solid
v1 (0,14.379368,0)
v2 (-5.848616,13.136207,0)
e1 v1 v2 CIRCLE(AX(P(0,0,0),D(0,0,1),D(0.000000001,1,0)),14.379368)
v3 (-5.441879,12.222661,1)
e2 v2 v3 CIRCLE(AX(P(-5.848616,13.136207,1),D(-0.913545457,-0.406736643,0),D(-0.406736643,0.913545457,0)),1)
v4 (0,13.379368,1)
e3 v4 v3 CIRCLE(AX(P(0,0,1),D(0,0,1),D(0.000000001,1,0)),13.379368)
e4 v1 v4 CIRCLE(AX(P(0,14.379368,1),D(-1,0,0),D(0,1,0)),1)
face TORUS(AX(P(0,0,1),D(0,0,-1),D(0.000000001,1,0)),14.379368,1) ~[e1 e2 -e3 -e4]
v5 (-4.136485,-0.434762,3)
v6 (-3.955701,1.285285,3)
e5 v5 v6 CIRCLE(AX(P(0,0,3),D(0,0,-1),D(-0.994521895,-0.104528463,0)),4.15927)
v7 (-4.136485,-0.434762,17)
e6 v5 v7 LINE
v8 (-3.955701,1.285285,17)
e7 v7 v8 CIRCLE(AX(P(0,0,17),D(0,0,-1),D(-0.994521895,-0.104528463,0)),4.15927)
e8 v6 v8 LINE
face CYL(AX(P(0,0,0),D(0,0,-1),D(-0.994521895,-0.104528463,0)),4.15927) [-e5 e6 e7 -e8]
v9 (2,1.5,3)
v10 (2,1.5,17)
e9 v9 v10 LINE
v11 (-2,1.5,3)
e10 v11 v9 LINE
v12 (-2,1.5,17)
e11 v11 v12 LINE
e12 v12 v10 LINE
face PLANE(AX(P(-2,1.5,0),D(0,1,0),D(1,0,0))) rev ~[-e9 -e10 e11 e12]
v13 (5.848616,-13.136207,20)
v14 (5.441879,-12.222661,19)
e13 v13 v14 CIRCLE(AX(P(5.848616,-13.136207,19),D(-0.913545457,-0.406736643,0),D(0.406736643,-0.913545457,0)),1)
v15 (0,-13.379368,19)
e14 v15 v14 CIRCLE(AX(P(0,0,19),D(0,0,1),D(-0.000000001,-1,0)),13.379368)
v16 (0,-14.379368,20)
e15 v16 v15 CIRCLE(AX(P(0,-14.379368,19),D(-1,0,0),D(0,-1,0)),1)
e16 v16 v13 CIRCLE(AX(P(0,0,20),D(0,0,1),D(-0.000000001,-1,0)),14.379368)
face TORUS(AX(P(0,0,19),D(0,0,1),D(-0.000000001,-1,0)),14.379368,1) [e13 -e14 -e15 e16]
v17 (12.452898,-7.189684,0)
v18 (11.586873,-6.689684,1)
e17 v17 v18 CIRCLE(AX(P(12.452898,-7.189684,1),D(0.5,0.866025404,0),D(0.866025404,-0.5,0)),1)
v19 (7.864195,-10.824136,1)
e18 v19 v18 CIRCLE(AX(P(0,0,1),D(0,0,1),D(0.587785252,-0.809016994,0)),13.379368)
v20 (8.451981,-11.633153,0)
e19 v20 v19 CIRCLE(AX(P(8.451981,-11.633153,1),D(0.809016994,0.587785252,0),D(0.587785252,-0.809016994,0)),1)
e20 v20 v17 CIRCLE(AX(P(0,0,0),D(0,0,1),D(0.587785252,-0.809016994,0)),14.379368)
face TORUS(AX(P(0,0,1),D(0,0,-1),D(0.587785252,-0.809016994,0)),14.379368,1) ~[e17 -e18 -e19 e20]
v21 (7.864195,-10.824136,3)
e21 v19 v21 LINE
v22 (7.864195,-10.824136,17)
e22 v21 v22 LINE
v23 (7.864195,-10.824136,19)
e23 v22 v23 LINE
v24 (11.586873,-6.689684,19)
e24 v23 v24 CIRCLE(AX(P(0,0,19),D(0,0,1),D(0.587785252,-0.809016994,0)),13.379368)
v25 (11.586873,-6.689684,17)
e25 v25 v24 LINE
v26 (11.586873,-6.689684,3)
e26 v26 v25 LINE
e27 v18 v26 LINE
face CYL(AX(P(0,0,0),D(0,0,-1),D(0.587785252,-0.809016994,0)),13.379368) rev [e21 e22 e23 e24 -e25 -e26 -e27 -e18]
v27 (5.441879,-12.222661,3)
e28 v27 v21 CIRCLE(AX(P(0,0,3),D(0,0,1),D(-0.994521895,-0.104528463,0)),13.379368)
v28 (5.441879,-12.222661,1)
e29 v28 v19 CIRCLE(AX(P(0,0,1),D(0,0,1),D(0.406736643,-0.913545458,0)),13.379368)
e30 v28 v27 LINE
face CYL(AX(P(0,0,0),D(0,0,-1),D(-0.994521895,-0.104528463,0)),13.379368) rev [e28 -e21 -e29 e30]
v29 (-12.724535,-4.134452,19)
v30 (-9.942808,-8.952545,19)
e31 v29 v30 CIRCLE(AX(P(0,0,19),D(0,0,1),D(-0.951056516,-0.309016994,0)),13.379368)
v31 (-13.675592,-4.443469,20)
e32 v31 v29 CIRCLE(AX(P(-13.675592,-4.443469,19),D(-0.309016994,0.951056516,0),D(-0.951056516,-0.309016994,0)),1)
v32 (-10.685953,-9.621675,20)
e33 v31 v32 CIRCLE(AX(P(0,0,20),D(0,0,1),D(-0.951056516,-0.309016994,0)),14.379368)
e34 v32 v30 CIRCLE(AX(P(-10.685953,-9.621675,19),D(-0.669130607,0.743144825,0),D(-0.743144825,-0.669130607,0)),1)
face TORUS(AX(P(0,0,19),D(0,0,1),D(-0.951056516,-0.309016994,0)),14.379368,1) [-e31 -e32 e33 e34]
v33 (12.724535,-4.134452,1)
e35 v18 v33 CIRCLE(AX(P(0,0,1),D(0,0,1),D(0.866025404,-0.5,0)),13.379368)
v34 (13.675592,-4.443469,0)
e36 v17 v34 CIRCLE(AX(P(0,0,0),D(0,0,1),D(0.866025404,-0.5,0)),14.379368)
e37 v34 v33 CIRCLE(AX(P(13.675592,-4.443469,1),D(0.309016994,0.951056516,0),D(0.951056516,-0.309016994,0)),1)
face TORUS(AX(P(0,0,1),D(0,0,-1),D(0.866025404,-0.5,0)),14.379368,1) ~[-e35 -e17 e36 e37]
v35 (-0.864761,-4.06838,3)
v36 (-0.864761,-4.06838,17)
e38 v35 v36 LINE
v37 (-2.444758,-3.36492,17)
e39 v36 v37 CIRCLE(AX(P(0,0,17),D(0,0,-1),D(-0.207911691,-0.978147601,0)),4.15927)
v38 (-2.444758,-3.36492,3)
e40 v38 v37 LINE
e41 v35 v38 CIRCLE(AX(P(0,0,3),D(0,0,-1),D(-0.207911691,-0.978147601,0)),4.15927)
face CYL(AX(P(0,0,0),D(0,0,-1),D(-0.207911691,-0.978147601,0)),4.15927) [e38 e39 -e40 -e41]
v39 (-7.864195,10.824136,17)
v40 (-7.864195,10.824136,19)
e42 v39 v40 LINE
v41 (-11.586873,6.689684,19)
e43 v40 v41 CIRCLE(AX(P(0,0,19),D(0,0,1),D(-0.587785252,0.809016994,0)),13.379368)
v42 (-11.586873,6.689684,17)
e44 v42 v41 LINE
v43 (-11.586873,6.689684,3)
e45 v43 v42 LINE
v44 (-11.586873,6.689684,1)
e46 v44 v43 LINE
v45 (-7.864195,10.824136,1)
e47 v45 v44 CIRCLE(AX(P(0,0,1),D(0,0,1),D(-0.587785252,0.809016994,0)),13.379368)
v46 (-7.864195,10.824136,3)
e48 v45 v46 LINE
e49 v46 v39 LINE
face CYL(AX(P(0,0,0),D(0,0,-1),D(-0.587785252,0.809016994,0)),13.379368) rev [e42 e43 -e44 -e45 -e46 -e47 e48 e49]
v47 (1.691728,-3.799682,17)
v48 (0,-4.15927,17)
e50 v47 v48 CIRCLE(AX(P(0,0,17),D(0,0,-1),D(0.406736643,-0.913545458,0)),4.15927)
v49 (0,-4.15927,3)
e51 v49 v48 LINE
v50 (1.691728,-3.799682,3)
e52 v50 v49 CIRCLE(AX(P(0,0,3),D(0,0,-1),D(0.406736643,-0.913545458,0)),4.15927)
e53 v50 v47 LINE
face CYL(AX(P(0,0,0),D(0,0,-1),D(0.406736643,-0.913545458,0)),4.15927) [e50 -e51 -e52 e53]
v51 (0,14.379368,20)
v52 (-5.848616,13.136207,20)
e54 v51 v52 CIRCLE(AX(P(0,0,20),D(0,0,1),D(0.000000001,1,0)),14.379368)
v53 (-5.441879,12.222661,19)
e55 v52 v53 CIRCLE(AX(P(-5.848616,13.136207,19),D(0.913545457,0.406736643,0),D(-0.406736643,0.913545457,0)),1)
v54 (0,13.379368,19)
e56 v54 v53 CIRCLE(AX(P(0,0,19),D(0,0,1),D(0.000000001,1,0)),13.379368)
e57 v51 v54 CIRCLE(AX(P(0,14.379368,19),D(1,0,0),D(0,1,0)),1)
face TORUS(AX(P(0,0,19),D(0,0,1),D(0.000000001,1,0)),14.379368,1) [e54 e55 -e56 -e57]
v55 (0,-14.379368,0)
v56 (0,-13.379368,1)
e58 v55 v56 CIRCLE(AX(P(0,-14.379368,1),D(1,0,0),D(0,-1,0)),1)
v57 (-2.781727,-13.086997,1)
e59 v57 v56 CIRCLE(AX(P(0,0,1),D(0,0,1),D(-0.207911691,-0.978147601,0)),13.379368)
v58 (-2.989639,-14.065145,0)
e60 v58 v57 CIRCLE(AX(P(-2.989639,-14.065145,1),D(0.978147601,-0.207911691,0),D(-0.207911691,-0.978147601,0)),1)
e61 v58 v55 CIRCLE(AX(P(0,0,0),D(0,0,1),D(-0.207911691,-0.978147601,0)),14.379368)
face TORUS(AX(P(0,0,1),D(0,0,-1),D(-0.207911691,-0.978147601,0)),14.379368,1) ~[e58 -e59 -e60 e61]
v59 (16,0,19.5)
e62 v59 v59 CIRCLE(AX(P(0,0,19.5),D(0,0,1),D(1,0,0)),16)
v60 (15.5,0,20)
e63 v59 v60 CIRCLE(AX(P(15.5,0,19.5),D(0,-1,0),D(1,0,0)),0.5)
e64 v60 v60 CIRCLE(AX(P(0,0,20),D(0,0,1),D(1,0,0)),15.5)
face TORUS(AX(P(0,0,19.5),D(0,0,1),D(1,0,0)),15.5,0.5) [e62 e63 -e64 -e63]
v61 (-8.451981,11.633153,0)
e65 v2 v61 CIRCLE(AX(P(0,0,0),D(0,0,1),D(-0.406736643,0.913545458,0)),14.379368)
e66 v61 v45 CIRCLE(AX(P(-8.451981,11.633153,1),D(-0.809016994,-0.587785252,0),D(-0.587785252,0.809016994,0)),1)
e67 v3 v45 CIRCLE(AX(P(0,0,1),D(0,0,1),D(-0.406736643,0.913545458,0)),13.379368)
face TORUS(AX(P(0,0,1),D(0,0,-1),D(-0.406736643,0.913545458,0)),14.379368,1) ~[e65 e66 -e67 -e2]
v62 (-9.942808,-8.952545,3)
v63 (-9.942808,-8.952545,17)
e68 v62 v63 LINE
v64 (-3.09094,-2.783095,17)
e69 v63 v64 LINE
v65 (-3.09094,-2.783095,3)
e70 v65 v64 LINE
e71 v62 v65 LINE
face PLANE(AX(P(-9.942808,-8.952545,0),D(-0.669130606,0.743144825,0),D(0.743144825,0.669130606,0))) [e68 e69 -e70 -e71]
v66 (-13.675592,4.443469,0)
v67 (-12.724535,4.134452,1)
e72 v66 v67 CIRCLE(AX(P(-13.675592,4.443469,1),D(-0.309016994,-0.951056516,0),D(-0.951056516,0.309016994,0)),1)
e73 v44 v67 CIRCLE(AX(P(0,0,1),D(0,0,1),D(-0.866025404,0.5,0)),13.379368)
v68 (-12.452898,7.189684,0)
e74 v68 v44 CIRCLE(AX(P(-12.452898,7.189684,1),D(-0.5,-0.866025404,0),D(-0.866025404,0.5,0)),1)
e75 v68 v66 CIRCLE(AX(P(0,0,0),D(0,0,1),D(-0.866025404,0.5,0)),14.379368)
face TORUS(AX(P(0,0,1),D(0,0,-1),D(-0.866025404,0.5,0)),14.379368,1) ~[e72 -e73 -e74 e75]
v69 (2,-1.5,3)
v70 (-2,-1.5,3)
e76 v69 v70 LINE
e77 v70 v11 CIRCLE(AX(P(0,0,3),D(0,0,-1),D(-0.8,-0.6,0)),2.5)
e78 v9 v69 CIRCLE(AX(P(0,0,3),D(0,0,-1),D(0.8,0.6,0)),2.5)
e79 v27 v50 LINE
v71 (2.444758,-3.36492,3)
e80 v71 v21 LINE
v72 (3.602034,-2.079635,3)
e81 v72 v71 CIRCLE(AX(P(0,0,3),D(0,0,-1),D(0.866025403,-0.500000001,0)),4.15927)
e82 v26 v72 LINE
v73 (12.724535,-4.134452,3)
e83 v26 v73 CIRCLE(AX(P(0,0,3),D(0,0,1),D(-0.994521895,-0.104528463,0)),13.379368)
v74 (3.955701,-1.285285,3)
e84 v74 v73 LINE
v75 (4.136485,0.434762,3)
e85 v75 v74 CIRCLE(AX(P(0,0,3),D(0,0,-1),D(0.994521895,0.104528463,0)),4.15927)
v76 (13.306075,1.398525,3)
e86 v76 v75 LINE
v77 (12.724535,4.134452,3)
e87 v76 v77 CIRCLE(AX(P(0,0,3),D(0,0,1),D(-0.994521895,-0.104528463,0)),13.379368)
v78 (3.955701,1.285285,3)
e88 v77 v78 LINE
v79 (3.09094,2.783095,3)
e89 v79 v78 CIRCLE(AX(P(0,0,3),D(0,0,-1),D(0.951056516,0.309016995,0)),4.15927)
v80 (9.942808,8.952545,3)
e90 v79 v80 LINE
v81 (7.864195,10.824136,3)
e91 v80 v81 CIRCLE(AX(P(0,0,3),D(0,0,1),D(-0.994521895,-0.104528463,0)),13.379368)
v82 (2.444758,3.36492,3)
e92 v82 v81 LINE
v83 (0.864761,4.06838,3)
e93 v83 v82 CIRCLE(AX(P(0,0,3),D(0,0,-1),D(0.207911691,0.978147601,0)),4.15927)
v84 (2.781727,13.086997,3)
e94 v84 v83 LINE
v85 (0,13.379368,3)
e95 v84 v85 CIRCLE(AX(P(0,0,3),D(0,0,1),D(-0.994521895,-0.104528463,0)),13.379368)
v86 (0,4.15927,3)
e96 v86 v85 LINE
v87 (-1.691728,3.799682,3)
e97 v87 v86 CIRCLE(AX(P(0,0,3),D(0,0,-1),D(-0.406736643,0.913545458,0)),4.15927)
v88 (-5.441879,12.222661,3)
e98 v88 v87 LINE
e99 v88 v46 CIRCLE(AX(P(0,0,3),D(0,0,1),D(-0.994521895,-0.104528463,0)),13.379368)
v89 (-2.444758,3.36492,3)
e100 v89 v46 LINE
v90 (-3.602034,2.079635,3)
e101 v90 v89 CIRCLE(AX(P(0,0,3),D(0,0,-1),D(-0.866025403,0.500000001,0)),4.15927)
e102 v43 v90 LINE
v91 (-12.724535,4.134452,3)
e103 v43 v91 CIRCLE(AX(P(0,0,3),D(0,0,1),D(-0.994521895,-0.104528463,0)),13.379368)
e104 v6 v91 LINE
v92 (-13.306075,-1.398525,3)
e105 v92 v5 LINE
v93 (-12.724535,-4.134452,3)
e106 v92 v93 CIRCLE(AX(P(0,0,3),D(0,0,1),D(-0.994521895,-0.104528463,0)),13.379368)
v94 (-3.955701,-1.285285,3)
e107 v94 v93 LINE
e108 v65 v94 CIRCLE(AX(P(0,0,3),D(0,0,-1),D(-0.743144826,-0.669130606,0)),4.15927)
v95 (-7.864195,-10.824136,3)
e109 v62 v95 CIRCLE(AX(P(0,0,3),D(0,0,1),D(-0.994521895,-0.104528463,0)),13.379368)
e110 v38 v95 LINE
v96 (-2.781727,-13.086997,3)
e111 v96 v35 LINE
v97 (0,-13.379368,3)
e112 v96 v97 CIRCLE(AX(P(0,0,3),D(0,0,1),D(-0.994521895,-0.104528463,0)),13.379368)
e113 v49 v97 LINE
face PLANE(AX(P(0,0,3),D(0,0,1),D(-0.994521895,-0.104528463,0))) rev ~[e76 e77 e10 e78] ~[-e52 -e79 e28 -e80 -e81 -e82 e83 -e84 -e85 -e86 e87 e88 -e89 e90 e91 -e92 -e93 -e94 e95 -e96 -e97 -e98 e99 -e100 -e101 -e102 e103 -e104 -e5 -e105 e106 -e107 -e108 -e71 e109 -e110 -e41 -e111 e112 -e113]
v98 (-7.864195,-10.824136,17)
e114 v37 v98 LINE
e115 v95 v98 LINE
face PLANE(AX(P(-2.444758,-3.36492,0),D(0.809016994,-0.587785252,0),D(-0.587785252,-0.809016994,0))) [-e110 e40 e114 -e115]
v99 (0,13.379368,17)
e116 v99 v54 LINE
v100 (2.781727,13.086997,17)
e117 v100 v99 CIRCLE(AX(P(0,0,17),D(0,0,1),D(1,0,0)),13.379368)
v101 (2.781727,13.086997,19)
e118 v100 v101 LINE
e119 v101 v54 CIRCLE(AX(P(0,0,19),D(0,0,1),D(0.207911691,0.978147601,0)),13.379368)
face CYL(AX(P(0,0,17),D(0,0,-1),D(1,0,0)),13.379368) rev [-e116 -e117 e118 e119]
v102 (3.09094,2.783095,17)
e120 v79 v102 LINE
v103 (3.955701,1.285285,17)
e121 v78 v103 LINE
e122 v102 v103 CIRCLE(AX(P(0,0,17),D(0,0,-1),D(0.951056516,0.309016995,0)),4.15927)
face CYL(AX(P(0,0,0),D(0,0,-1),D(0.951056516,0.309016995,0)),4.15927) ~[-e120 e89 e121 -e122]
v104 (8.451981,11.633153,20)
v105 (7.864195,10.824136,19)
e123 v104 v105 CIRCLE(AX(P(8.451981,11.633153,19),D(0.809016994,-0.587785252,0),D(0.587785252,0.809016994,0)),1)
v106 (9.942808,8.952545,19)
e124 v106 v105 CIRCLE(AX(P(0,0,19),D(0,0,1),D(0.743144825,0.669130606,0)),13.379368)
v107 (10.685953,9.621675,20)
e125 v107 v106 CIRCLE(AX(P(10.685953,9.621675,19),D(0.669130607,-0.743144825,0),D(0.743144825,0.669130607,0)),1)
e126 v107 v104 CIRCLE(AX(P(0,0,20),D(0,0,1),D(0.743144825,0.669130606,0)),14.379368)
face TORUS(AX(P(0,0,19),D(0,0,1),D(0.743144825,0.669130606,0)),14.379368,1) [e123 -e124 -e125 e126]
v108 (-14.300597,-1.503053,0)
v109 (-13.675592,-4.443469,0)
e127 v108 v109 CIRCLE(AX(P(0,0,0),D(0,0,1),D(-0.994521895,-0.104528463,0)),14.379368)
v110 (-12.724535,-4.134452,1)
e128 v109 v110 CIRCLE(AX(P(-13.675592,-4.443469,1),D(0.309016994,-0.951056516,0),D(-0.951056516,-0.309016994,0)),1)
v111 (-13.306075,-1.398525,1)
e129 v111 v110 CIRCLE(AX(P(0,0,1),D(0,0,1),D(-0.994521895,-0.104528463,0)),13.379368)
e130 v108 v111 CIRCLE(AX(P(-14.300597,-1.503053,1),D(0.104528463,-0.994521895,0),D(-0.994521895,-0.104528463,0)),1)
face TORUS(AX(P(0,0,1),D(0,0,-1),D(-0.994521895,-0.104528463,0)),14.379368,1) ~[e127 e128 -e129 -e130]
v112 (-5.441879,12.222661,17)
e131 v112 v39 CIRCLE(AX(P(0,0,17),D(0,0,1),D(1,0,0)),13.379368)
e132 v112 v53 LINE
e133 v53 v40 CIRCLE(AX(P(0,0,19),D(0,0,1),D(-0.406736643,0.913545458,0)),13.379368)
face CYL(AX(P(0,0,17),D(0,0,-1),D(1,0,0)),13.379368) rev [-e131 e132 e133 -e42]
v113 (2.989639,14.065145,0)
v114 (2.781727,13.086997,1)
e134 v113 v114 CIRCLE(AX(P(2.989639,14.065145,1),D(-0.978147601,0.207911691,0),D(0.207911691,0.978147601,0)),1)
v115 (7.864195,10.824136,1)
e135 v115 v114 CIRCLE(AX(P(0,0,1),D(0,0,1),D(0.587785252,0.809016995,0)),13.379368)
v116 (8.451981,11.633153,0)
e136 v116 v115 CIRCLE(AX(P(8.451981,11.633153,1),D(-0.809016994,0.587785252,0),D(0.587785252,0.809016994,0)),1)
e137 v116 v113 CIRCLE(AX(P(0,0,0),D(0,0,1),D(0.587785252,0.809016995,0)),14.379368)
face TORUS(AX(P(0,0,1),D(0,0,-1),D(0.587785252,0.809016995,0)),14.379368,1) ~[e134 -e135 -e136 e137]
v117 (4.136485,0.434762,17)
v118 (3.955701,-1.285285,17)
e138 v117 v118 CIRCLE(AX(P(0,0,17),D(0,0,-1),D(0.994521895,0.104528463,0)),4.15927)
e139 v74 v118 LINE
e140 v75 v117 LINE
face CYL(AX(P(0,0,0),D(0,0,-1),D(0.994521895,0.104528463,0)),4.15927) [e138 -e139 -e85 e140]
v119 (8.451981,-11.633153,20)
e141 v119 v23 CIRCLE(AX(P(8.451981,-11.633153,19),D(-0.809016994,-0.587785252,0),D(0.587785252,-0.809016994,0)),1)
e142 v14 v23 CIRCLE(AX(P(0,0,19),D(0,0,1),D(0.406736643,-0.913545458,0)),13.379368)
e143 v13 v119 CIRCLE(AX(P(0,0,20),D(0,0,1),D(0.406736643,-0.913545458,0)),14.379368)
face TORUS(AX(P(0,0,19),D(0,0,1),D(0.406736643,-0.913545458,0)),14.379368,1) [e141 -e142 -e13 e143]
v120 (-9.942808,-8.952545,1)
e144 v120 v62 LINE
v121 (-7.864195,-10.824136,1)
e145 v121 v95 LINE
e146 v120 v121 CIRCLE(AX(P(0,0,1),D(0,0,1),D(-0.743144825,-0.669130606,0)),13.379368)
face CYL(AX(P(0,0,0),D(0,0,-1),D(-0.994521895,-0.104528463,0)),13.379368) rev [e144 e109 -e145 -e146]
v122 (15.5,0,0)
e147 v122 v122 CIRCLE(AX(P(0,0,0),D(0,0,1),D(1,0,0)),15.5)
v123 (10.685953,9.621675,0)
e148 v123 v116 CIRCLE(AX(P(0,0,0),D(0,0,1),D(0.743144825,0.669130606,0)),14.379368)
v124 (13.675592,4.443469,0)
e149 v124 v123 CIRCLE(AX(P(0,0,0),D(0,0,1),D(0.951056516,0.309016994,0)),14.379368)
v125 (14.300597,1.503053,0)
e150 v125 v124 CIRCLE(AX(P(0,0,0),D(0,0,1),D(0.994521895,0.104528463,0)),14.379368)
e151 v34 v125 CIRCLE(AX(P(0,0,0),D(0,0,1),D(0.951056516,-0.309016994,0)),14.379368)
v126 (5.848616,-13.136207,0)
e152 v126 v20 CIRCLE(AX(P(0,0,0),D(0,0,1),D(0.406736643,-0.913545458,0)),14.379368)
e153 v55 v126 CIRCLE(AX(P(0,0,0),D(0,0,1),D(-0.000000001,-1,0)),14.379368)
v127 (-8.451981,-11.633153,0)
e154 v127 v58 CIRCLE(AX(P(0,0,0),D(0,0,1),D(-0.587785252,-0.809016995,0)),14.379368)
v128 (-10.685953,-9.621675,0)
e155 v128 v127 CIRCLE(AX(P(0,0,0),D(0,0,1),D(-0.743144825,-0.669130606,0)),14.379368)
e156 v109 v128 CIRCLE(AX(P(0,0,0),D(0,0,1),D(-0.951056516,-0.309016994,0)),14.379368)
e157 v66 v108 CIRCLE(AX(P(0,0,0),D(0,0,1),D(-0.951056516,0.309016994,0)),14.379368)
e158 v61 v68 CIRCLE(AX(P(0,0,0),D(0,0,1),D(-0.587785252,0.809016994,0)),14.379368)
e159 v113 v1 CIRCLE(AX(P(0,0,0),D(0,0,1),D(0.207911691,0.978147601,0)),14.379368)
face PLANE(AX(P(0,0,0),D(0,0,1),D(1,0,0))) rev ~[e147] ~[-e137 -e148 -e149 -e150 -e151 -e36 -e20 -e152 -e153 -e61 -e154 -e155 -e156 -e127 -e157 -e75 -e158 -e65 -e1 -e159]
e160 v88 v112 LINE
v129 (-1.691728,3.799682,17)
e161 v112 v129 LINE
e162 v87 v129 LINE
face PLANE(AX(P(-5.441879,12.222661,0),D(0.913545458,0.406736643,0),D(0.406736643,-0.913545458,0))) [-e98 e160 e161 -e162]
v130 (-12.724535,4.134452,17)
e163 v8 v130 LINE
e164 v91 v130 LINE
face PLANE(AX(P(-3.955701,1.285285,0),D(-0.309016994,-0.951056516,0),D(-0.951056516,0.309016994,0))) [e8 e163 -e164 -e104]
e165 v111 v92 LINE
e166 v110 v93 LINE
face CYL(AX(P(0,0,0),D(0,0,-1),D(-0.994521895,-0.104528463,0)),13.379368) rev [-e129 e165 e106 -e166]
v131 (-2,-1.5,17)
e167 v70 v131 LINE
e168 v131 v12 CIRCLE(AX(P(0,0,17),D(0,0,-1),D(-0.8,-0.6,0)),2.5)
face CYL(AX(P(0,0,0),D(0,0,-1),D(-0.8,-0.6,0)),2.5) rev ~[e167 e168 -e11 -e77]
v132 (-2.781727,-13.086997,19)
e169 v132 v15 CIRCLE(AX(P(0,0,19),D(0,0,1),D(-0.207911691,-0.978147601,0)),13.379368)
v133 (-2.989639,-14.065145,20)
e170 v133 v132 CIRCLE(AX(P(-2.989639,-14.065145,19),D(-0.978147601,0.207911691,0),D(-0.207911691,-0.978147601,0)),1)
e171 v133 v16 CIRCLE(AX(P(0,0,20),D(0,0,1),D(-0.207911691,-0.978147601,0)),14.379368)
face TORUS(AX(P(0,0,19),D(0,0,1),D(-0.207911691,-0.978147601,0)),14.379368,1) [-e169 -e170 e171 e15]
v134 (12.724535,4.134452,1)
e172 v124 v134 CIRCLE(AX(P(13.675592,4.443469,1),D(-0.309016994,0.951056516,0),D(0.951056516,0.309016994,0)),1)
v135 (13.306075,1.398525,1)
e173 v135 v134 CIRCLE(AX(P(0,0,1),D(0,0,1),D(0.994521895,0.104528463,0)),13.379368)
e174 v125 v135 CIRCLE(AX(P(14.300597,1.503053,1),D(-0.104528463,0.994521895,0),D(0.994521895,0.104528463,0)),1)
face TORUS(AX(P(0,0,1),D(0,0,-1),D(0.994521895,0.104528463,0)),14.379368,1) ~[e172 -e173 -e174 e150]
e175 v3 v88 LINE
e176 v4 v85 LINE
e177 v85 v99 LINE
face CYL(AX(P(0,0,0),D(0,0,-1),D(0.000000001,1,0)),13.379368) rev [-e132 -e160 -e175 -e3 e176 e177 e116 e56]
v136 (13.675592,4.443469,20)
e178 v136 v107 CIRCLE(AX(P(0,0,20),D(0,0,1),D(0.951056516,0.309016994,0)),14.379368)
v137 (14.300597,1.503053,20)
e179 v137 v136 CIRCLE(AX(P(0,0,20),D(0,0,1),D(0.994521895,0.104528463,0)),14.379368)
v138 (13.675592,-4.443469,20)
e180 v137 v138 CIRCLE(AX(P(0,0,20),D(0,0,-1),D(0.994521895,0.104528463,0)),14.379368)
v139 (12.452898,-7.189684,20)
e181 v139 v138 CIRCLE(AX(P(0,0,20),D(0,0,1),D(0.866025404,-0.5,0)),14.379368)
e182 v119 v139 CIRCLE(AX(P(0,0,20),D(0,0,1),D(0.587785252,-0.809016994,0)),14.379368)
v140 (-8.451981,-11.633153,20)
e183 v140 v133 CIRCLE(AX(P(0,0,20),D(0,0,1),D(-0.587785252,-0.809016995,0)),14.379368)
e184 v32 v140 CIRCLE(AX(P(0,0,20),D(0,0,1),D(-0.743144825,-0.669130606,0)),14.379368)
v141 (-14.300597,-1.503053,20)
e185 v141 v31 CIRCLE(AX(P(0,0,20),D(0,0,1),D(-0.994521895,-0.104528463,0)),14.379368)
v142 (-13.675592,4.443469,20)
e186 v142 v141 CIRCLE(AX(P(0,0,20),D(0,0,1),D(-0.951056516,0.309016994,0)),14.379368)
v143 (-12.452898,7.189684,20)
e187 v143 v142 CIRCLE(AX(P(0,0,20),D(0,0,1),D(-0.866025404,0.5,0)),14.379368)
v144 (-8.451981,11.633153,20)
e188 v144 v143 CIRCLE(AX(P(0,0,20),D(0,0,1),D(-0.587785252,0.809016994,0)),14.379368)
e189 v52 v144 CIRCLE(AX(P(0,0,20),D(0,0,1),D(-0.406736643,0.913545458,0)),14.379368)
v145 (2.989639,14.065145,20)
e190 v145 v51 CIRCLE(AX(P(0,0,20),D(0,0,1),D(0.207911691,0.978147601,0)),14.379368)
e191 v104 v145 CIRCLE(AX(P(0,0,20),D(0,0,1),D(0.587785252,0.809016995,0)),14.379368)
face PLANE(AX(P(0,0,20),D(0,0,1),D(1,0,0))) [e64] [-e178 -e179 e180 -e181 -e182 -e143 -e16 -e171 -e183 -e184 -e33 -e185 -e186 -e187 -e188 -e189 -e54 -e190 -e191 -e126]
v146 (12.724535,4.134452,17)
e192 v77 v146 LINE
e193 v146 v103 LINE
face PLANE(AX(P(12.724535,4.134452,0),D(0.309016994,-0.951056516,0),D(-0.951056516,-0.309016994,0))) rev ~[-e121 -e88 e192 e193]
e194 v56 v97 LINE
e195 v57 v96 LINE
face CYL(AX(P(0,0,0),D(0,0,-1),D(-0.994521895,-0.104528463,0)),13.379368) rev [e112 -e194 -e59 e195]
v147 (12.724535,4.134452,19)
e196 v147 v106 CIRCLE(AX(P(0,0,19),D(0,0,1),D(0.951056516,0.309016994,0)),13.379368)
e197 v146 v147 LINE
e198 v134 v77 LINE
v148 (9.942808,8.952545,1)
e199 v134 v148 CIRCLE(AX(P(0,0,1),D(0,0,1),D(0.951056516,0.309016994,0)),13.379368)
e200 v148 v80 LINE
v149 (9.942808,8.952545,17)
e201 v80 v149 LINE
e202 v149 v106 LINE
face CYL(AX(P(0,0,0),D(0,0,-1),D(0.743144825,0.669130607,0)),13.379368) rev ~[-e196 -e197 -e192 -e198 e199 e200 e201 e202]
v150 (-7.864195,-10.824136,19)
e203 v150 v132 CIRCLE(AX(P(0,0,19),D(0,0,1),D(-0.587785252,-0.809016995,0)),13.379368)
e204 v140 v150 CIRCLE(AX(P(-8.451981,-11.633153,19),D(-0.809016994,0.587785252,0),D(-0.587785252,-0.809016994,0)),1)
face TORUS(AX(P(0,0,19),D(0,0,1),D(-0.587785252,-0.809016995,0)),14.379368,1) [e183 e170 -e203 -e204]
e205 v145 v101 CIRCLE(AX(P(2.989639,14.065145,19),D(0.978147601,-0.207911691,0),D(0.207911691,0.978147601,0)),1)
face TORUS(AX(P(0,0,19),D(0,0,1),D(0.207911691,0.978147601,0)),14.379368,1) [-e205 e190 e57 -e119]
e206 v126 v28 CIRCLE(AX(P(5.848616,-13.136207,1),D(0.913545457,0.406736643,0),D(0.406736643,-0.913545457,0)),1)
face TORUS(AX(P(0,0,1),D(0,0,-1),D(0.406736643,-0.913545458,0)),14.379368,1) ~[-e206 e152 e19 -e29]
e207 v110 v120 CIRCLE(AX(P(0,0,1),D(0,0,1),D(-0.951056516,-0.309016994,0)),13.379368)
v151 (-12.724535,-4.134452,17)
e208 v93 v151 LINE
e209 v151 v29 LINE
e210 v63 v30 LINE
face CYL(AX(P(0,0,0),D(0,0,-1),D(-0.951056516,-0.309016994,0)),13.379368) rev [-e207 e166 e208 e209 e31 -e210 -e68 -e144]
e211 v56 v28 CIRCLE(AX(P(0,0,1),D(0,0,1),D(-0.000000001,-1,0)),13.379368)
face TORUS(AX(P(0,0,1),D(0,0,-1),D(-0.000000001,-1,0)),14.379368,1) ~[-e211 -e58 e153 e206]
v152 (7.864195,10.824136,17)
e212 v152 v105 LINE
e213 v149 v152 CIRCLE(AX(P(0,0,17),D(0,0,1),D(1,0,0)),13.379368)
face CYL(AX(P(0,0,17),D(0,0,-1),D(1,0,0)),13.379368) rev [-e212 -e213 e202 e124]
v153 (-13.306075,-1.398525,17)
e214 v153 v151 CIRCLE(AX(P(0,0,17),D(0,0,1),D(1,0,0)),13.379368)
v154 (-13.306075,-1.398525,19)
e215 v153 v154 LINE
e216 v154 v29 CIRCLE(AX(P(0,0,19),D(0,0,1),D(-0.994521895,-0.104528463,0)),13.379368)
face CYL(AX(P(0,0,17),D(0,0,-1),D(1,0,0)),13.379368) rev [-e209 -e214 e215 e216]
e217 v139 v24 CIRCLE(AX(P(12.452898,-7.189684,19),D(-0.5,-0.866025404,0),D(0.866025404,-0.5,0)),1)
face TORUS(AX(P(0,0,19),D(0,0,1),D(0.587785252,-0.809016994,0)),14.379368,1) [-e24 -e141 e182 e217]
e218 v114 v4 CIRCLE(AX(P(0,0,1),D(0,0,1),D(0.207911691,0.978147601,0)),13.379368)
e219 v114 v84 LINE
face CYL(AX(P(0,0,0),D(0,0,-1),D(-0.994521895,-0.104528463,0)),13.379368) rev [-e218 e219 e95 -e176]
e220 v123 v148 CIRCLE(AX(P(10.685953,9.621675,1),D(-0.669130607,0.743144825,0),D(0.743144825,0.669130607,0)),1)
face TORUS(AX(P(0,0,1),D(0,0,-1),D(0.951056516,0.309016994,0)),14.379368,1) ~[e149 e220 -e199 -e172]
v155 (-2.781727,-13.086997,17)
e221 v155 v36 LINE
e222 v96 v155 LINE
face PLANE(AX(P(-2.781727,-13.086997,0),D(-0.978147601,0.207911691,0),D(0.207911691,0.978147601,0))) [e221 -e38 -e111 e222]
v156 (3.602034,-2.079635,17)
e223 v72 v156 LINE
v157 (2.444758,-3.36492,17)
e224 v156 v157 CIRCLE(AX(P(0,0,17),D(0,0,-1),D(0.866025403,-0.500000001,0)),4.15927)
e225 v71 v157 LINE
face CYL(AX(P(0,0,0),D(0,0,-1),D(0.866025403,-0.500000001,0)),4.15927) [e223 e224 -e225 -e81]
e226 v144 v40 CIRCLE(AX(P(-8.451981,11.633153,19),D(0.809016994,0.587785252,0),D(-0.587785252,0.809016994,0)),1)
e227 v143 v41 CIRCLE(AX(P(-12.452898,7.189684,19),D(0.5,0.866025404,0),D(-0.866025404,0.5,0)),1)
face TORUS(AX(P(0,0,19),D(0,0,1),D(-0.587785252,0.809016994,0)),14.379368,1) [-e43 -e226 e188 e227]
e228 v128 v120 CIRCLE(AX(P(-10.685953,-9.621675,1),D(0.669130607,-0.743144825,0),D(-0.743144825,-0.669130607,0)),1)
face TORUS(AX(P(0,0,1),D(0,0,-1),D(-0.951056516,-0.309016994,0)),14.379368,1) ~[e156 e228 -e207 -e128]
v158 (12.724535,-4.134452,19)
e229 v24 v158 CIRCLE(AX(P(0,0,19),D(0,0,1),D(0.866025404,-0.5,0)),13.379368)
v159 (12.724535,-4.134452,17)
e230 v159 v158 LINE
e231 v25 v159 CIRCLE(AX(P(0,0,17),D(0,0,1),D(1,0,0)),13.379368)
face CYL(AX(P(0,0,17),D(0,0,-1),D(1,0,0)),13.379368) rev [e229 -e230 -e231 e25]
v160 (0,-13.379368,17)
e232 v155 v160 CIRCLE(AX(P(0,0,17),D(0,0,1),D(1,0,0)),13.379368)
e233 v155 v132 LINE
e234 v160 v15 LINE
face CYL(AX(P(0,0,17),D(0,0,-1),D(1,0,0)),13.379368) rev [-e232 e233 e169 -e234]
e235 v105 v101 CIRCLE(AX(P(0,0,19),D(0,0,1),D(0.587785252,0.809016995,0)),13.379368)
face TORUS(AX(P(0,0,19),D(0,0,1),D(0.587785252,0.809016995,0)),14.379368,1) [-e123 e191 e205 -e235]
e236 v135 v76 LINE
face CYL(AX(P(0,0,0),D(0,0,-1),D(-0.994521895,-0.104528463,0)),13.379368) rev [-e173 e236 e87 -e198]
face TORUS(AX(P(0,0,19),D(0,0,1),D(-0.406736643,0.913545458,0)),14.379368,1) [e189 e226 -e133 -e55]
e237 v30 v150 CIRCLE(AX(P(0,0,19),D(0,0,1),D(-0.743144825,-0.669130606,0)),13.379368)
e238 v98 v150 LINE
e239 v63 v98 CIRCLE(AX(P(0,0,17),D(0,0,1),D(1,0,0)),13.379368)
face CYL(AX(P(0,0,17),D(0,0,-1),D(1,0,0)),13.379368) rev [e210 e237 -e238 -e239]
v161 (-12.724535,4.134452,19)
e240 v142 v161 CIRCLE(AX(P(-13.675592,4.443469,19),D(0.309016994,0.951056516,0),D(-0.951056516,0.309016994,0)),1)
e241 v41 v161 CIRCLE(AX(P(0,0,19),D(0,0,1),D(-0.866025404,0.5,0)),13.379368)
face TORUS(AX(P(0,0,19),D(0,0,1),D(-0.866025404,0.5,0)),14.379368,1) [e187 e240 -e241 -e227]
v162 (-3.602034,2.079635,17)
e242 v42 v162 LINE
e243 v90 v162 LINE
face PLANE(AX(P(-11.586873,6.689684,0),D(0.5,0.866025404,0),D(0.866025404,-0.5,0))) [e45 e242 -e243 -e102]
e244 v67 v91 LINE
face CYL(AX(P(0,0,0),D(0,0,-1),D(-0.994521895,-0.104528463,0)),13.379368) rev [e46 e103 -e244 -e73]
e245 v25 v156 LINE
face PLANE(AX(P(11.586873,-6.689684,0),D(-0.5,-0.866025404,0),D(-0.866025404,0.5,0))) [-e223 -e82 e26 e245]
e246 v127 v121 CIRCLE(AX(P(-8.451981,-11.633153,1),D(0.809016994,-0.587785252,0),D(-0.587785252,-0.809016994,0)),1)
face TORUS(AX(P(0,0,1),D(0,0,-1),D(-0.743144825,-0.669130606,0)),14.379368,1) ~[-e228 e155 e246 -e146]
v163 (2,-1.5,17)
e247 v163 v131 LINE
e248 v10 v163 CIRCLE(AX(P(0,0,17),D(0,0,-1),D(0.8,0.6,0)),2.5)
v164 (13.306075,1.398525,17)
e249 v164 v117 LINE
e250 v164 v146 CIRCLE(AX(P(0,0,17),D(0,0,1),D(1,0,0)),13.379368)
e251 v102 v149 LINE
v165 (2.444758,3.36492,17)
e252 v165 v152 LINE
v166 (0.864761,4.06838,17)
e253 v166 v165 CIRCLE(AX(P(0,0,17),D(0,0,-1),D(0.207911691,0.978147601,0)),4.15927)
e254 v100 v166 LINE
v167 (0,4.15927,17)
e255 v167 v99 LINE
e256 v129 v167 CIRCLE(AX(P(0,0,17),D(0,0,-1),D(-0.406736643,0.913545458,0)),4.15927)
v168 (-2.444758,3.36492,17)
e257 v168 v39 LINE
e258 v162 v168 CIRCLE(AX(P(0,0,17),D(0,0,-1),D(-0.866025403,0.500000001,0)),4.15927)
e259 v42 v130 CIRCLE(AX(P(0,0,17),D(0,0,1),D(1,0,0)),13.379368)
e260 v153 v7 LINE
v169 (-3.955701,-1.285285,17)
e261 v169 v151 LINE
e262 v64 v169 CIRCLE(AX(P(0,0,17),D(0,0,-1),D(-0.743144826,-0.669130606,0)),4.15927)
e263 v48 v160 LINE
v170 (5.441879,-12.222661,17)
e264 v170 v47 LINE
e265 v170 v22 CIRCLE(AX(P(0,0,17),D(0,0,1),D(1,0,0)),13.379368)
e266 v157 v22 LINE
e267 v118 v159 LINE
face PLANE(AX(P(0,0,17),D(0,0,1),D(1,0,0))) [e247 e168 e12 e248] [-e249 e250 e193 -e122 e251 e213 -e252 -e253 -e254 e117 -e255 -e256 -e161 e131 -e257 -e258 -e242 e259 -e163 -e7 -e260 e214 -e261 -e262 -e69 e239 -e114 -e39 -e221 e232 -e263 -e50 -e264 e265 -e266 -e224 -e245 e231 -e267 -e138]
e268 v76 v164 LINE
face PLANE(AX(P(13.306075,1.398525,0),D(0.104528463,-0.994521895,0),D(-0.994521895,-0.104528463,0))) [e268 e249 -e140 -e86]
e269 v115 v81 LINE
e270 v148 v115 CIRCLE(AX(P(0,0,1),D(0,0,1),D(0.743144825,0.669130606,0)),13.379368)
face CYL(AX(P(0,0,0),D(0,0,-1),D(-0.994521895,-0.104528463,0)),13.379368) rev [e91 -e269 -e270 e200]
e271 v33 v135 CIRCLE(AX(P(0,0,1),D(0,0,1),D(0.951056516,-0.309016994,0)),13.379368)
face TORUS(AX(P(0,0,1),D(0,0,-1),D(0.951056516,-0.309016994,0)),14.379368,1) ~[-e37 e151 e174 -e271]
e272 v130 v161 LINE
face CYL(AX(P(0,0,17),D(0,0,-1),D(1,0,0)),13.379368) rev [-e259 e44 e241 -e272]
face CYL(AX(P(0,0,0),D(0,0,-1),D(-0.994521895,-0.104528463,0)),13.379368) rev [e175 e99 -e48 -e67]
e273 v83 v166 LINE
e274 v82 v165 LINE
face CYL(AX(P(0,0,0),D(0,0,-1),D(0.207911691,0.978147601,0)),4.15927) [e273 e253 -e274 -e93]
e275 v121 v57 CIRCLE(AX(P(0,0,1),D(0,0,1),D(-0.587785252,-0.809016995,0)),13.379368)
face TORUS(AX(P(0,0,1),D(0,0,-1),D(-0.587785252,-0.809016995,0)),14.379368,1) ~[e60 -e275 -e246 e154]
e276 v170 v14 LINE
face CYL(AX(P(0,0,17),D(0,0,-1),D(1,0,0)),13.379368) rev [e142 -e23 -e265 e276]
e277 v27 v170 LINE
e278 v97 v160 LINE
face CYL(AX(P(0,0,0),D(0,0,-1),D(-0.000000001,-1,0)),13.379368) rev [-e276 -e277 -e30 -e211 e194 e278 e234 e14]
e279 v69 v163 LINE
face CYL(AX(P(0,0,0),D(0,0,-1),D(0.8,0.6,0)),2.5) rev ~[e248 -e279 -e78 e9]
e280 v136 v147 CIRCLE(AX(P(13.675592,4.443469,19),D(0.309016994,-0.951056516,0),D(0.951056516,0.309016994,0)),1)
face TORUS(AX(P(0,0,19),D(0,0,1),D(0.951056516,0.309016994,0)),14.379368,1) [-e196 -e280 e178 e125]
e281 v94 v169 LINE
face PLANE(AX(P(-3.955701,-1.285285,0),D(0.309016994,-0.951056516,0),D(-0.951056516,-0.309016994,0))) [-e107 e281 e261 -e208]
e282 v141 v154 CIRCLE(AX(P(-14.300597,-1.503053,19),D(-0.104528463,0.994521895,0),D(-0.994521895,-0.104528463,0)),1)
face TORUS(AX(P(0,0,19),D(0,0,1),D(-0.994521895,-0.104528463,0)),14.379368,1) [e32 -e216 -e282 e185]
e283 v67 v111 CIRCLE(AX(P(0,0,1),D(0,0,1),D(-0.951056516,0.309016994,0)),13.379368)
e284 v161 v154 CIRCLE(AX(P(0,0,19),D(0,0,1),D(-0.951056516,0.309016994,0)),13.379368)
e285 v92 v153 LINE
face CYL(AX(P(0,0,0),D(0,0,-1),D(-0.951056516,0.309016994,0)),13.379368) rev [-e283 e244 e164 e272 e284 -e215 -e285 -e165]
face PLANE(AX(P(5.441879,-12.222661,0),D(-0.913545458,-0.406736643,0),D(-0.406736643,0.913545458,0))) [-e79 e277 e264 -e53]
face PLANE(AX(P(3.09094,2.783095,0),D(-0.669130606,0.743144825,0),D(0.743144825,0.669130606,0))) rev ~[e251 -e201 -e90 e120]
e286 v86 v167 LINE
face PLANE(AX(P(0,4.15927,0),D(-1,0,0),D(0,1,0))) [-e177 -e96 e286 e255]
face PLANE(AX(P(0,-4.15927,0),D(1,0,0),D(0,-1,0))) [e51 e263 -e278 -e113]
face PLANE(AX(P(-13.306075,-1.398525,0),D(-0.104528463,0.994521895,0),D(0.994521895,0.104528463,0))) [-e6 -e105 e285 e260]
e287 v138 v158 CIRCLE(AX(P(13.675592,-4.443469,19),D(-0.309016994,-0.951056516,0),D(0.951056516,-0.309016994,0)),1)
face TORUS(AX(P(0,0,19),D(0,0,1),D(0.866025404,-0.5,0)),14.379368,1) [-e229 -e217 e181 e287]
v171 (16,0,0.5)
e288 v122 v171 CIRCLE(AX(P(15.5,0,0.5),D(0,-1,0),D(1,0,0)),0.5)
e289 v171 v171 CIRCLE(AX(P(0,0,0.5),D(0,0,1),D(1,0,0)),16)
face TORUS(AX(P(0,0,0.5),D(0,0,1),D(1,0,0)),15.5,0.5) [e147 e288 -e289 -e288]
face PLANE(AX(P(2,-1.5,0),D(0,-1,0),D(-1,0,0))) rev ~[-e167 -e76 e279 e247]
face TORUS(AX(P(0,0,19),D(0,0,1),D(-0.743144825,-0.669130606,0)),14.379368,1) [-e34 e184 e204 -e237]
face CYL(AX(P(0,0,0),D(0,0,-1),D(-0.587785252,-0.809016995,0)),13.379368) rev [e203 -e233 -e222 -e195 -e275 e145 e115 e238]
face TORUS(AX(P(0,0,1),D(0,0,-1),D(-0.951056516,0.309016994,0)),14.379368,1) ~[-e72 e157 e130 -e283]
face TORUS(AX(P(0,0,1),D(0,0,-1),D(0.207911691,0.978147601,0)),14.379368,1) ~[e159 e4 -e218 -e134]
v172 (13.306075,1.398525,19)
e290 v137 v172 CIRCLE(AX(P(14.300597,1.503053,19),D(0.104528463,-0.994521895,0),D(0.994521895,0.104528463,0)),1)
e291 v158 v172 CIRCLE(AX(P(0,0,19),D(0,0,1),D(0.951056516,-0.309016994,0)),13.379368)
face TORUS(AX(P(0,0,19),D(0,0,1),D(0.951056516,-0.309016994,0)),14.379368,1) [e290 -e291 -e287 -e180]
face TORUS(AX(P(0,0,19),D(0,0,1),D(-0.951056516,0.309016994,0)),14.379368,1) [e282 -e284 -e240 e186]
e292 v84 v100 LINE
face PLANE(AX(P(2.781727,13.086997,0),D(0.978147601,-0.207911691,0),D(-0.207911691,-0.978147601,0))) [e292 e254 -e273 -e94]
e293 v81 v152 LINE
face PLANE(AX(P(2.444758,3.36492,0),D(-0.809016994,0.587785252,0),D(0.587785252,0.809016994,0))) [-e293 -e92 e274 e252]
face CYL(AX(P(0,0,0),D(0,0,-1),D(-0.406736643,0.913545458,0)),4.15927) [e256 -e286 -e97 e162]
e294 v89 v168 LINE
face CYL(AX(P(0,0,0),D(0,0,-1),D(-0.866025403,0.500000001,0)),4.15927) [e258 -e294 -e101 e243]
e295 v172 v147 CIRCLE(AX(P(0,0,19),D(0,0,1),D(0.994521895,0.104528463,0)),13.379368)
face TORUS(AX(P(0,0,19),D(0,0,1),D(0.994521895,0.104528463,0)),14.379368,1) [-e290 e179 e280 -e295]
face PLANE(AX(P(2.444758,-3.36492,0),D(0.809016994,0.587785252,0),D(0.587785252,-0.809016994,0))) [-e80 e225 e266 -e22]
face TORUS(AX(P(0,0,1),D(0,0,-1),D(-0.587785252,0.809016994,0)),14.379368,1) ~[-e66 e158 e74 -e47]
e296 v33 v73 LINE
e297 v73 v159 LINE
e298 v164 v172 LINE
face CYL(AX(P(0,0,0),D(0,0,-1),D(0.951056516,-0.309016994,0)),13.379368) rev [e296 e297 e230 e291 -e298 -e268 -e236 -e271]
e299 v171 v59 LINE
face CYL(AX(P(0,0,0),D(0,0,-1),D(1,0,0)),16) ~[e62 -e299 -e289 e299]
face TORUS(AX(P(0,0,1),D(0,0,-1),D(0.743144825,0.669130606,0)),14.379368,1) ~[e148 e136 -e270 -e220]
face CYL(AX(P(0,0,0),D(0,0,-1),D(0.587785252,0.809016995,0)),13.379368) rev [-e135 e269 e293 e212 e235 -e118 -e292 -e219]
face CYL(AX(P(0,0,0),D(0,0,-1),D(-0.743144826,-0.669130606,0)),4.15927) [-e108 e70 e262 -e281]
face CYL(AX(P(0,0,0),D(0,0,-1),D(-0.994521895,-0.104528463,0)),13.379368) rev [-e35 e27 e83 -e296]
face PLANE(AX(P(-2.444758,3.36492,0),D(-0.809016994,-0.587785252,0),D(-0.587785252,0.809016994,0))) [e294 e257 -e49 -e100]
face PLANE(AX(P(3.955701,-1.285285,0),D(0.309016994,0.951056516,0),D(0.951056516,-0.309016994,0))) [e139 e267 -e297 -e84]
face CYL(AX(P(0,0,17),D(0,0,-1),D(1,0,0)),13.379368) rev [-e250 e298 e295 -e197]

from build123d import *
from build123d.topology import SkipClean

# Parameters (mm, degrees)
SKETCH1_R           = 16
BOSS_EXTRUDE1_DEPTH = 20
CUT_EXTRUDE1_DEPTH  = 20
CUT_EXTRUDE2_DEPTH  = 20
SKETCH5_R           = 13.379368239
CUT_EXTRUDE4_DEPTH  = 3
CUT_EXTRUDE5_START  = -3
SKETCH6_R           = 13.379368239
CUT_EXTRUDE5_DEPTH  = 3
FILLET1_R           = 1
FILLET2_R           = 0.5


with BuildPart() as part:
    # Sketch1 → Boss-Extrude1 (new body)
    with BuildSketch(Plane.XY):
        Circle(SKETCH1_R)
    extrude(amount=BOSS_EXTRUDE1_DEPTH)

    # Sketch3 → Cut-Extrude1 (cut)
    with BuildSketch(Plane.XY):
        with BuildLine():
            Line((-2, 1.5), (2, 1.5))
            ThreePointArc((2, 1.5), (2.5, 0), (2, -1.5))
            Line((2, -1.5), (-2, -1.5))
            ThreePointArc((-2, -1.5), (-2.5, 0), (-2, 1.5))
        make_face()
    extrude(amount=CUT_EXTRUDE1_DEPTH, mode=Mode.SUBTRACT)

    # Sketch4 → Cut-Extrude2 (cut)
    with BuildSketch(Plane.XY):
        with BuildLine():
            Line((3.955700901, -1.285285135), (12.724535348, -4.13445216))
            ThreePointArc((12.724535348, -4.13445216), (13.30607466, -1.398524802), (13.30607466, 1.398524802))
            Line((13.30607466, 1.398524802), (4.136485151, 0.434762108))
            ThreePointArc((4.136485151, 0.434762108), (4.136485151, -0.434762108), (3.955700901, -1.285285135))
        make_face()
        with BuildLine():
            Line((3.090940028, 2.783094902), (9.942808275, 8.952544783))
            ThreePointArc((9.942808275, 8.952544783), (11.586872782, 6.68968412), (12.724535348, 4.13445216))
            Line((12.724535348, 4.13445216), (3.955700901, 1.285285135))
            ThreePointArc((3.955700901, 1.285285135), (3.602033539, 2.079635034), (3.090940028, 2.783094902))
        make_face()
        with BuildLine():
            Line((2.444757606, -3.364920169), (7.864195336, -10.82413628))
            ThreePointArc((7.864195336, -10.82413628), (9.942808275, -8.952544783), (11.586872782, -6.68968412))
            Line((11.586872782, -6.68968412), (3.602033539, -2.079635034))
            ThreePointArc((3.602033539, -2.079635034), (3.090940028, -2.783094902), (2.444757606, -3.364920169))
        make_face()
        with BuildLine():
            Line((0, -4.159270067), (0, -13.379368239))
            ThreePointArc((0, -13.379368239), (2.781727073, -13.086996943), (5.441879324, -12.222661081))
            Line((5.441879324, -12.222661081), (1.691727545, -3.799682277))
            ThreePointArc((1.691727545, -3.799682277), (0.864760872, -4.068380037), (0, -4.159270067))
        make_face()
        with BuildLine():
            Line((-2.444757606, -3.364920169), (-7.864195336, -10.82413628))
            ThreePointArc((-7.864195336, -10.82413628), (-5.441879324, -12.222661081), (-2.781727073, -13.086996943))
            Line((-2.781727073, -13.086996943), (-0.864760872, -4.068380037))
            ThreePointArc((-0.864760872, -4.068380037), (-1.691727545, -3.799682277), (-2.444757606, -3.364920169))
        make_face()
        with BuildLine():
            Line((-3.955700901, -1.285285135), (-12.724535348, -4.13445216))
            ThreePointArc((-12.724535348, -4.13445216), (-11.586872782, -6.68968412), (-9.942808275, -8.952544783))
            Line((-9.942808275, -8.952544783), (-3.090940028, -2.783094902))
            ThreePointArc((-3.090940028, -2.783094902), (-3.602033539, -2.079635034), (-3.955700901, -1.285285135))
        make_face()
        with BuildLine():
            Line((-3.955700901, 1.285285135), (-12.724535348, 4.13445216))
            ThreePointArc((-12.724535348, 4.13445216), (-13.30607466, 1.398524802), (-13.30607466, -1.398524802))
            Line((-13.30607466, -1.398524802), (-4.136485151, -0.434762108))
            ThreePointArc((-4.136485151, -0.434762108), (-4.136485151, 0.434762108), (-3.955700901, 1.285285135))
        make_face()
        with BuildLine():
            Line((-2.444757606, 3.364920169), (-7.864195336, 10.82413628))
            ThreePointArc((-7.864195336, 10.82413628), (-9.942808275, 8.952544783), (-11.586872782, 6.68968412))
            Line((-11.586872782, 6.68968412), (-3.602033539, 2.079635034))
            ThreePointArc((-3.602033539, 2.079635034), (-3.090940028, 2.783094902), (-2.444757606, 3.364920169))
        make_face()
        with BuildLine():
            Line((0, 4.159270067), (0, 13.379368239))
            ThreePointArc((0, 13.379368239), (-2.781727073, 13.086996943), (-5.441879324, 12.222661081))
            Line((-5.441879324, 12.222661081), (-1.691727545, 3.799682277))
            ThreePointArc((-1.691727545, 3.799682277), (-0.864760872, 4.068380037), (0, 4.159270067))
        make_face()
        with BuildLine():
            Line((2.444757606, 3.364920169), (7.864195336, 10.82413628))
            ThreePointArc((7.864195336, 10.82413628), (5.441879324, 12.222661081), (2.781727073, 13.086996943))
            Line((2.781727073, 13.086996943), (0.864760872, 4.068380037))
            ThreePointArc((0.864760872, 4.068380037), (1.691727545, 3.799682277), (2.444757606, 3.364920169))
        make_face()
    extrude(amount=CUT_EXTRUDE2_DEPTH, mode=Mode.SUBTRACT)

    # Sketch5 → Cut-Extrude4 (cut)
    with SkipClean():  # the faces are left unmerged after this step: merging them gives an invalid solid
        with BuildSketch(Plane.XY):
            with Locations(Location((0, 0, 0), (0, 0, 186))):
                Circle(SKETCH5_R)
        extrude(amount=CUT_EXTRUDE4_DEPTH, mode=Mode.SUBTRACT)

    # Sketch6 → Cut-Extrude5 (cut)
    with SkipClean():  # the faces are left unmerged after this step: merging them gives an invalid solid
        with BuildSketch(Plane.XY.offset(20).offset(CUT_EXTRUDE5_START)):
            Circle(SKETCH6_R)
        extrude(amount=CUT_EXTRUDE5_DEPTH, mode=Mode.SUBTRACT)

    # Fillet1
    fillet1_edges = [part.edges().sort_by_distance(p)[0] for p in [
        (13.30607466, -1.398524802, 0),
        (13.214646015, -2.092994313, 20),
    ]]
    fillet(fillet1_edges, radius=FILLET1_R)

    # Fillet2
    fillet2_edges = [part.edges().sort_by_distance(p)[0] for p in [
        (-16, 0, 0),
        (-16, 0, 20),
    ]]
    fillet(fillet2_edges, radius=FILLET2_R)


solid = part.part
